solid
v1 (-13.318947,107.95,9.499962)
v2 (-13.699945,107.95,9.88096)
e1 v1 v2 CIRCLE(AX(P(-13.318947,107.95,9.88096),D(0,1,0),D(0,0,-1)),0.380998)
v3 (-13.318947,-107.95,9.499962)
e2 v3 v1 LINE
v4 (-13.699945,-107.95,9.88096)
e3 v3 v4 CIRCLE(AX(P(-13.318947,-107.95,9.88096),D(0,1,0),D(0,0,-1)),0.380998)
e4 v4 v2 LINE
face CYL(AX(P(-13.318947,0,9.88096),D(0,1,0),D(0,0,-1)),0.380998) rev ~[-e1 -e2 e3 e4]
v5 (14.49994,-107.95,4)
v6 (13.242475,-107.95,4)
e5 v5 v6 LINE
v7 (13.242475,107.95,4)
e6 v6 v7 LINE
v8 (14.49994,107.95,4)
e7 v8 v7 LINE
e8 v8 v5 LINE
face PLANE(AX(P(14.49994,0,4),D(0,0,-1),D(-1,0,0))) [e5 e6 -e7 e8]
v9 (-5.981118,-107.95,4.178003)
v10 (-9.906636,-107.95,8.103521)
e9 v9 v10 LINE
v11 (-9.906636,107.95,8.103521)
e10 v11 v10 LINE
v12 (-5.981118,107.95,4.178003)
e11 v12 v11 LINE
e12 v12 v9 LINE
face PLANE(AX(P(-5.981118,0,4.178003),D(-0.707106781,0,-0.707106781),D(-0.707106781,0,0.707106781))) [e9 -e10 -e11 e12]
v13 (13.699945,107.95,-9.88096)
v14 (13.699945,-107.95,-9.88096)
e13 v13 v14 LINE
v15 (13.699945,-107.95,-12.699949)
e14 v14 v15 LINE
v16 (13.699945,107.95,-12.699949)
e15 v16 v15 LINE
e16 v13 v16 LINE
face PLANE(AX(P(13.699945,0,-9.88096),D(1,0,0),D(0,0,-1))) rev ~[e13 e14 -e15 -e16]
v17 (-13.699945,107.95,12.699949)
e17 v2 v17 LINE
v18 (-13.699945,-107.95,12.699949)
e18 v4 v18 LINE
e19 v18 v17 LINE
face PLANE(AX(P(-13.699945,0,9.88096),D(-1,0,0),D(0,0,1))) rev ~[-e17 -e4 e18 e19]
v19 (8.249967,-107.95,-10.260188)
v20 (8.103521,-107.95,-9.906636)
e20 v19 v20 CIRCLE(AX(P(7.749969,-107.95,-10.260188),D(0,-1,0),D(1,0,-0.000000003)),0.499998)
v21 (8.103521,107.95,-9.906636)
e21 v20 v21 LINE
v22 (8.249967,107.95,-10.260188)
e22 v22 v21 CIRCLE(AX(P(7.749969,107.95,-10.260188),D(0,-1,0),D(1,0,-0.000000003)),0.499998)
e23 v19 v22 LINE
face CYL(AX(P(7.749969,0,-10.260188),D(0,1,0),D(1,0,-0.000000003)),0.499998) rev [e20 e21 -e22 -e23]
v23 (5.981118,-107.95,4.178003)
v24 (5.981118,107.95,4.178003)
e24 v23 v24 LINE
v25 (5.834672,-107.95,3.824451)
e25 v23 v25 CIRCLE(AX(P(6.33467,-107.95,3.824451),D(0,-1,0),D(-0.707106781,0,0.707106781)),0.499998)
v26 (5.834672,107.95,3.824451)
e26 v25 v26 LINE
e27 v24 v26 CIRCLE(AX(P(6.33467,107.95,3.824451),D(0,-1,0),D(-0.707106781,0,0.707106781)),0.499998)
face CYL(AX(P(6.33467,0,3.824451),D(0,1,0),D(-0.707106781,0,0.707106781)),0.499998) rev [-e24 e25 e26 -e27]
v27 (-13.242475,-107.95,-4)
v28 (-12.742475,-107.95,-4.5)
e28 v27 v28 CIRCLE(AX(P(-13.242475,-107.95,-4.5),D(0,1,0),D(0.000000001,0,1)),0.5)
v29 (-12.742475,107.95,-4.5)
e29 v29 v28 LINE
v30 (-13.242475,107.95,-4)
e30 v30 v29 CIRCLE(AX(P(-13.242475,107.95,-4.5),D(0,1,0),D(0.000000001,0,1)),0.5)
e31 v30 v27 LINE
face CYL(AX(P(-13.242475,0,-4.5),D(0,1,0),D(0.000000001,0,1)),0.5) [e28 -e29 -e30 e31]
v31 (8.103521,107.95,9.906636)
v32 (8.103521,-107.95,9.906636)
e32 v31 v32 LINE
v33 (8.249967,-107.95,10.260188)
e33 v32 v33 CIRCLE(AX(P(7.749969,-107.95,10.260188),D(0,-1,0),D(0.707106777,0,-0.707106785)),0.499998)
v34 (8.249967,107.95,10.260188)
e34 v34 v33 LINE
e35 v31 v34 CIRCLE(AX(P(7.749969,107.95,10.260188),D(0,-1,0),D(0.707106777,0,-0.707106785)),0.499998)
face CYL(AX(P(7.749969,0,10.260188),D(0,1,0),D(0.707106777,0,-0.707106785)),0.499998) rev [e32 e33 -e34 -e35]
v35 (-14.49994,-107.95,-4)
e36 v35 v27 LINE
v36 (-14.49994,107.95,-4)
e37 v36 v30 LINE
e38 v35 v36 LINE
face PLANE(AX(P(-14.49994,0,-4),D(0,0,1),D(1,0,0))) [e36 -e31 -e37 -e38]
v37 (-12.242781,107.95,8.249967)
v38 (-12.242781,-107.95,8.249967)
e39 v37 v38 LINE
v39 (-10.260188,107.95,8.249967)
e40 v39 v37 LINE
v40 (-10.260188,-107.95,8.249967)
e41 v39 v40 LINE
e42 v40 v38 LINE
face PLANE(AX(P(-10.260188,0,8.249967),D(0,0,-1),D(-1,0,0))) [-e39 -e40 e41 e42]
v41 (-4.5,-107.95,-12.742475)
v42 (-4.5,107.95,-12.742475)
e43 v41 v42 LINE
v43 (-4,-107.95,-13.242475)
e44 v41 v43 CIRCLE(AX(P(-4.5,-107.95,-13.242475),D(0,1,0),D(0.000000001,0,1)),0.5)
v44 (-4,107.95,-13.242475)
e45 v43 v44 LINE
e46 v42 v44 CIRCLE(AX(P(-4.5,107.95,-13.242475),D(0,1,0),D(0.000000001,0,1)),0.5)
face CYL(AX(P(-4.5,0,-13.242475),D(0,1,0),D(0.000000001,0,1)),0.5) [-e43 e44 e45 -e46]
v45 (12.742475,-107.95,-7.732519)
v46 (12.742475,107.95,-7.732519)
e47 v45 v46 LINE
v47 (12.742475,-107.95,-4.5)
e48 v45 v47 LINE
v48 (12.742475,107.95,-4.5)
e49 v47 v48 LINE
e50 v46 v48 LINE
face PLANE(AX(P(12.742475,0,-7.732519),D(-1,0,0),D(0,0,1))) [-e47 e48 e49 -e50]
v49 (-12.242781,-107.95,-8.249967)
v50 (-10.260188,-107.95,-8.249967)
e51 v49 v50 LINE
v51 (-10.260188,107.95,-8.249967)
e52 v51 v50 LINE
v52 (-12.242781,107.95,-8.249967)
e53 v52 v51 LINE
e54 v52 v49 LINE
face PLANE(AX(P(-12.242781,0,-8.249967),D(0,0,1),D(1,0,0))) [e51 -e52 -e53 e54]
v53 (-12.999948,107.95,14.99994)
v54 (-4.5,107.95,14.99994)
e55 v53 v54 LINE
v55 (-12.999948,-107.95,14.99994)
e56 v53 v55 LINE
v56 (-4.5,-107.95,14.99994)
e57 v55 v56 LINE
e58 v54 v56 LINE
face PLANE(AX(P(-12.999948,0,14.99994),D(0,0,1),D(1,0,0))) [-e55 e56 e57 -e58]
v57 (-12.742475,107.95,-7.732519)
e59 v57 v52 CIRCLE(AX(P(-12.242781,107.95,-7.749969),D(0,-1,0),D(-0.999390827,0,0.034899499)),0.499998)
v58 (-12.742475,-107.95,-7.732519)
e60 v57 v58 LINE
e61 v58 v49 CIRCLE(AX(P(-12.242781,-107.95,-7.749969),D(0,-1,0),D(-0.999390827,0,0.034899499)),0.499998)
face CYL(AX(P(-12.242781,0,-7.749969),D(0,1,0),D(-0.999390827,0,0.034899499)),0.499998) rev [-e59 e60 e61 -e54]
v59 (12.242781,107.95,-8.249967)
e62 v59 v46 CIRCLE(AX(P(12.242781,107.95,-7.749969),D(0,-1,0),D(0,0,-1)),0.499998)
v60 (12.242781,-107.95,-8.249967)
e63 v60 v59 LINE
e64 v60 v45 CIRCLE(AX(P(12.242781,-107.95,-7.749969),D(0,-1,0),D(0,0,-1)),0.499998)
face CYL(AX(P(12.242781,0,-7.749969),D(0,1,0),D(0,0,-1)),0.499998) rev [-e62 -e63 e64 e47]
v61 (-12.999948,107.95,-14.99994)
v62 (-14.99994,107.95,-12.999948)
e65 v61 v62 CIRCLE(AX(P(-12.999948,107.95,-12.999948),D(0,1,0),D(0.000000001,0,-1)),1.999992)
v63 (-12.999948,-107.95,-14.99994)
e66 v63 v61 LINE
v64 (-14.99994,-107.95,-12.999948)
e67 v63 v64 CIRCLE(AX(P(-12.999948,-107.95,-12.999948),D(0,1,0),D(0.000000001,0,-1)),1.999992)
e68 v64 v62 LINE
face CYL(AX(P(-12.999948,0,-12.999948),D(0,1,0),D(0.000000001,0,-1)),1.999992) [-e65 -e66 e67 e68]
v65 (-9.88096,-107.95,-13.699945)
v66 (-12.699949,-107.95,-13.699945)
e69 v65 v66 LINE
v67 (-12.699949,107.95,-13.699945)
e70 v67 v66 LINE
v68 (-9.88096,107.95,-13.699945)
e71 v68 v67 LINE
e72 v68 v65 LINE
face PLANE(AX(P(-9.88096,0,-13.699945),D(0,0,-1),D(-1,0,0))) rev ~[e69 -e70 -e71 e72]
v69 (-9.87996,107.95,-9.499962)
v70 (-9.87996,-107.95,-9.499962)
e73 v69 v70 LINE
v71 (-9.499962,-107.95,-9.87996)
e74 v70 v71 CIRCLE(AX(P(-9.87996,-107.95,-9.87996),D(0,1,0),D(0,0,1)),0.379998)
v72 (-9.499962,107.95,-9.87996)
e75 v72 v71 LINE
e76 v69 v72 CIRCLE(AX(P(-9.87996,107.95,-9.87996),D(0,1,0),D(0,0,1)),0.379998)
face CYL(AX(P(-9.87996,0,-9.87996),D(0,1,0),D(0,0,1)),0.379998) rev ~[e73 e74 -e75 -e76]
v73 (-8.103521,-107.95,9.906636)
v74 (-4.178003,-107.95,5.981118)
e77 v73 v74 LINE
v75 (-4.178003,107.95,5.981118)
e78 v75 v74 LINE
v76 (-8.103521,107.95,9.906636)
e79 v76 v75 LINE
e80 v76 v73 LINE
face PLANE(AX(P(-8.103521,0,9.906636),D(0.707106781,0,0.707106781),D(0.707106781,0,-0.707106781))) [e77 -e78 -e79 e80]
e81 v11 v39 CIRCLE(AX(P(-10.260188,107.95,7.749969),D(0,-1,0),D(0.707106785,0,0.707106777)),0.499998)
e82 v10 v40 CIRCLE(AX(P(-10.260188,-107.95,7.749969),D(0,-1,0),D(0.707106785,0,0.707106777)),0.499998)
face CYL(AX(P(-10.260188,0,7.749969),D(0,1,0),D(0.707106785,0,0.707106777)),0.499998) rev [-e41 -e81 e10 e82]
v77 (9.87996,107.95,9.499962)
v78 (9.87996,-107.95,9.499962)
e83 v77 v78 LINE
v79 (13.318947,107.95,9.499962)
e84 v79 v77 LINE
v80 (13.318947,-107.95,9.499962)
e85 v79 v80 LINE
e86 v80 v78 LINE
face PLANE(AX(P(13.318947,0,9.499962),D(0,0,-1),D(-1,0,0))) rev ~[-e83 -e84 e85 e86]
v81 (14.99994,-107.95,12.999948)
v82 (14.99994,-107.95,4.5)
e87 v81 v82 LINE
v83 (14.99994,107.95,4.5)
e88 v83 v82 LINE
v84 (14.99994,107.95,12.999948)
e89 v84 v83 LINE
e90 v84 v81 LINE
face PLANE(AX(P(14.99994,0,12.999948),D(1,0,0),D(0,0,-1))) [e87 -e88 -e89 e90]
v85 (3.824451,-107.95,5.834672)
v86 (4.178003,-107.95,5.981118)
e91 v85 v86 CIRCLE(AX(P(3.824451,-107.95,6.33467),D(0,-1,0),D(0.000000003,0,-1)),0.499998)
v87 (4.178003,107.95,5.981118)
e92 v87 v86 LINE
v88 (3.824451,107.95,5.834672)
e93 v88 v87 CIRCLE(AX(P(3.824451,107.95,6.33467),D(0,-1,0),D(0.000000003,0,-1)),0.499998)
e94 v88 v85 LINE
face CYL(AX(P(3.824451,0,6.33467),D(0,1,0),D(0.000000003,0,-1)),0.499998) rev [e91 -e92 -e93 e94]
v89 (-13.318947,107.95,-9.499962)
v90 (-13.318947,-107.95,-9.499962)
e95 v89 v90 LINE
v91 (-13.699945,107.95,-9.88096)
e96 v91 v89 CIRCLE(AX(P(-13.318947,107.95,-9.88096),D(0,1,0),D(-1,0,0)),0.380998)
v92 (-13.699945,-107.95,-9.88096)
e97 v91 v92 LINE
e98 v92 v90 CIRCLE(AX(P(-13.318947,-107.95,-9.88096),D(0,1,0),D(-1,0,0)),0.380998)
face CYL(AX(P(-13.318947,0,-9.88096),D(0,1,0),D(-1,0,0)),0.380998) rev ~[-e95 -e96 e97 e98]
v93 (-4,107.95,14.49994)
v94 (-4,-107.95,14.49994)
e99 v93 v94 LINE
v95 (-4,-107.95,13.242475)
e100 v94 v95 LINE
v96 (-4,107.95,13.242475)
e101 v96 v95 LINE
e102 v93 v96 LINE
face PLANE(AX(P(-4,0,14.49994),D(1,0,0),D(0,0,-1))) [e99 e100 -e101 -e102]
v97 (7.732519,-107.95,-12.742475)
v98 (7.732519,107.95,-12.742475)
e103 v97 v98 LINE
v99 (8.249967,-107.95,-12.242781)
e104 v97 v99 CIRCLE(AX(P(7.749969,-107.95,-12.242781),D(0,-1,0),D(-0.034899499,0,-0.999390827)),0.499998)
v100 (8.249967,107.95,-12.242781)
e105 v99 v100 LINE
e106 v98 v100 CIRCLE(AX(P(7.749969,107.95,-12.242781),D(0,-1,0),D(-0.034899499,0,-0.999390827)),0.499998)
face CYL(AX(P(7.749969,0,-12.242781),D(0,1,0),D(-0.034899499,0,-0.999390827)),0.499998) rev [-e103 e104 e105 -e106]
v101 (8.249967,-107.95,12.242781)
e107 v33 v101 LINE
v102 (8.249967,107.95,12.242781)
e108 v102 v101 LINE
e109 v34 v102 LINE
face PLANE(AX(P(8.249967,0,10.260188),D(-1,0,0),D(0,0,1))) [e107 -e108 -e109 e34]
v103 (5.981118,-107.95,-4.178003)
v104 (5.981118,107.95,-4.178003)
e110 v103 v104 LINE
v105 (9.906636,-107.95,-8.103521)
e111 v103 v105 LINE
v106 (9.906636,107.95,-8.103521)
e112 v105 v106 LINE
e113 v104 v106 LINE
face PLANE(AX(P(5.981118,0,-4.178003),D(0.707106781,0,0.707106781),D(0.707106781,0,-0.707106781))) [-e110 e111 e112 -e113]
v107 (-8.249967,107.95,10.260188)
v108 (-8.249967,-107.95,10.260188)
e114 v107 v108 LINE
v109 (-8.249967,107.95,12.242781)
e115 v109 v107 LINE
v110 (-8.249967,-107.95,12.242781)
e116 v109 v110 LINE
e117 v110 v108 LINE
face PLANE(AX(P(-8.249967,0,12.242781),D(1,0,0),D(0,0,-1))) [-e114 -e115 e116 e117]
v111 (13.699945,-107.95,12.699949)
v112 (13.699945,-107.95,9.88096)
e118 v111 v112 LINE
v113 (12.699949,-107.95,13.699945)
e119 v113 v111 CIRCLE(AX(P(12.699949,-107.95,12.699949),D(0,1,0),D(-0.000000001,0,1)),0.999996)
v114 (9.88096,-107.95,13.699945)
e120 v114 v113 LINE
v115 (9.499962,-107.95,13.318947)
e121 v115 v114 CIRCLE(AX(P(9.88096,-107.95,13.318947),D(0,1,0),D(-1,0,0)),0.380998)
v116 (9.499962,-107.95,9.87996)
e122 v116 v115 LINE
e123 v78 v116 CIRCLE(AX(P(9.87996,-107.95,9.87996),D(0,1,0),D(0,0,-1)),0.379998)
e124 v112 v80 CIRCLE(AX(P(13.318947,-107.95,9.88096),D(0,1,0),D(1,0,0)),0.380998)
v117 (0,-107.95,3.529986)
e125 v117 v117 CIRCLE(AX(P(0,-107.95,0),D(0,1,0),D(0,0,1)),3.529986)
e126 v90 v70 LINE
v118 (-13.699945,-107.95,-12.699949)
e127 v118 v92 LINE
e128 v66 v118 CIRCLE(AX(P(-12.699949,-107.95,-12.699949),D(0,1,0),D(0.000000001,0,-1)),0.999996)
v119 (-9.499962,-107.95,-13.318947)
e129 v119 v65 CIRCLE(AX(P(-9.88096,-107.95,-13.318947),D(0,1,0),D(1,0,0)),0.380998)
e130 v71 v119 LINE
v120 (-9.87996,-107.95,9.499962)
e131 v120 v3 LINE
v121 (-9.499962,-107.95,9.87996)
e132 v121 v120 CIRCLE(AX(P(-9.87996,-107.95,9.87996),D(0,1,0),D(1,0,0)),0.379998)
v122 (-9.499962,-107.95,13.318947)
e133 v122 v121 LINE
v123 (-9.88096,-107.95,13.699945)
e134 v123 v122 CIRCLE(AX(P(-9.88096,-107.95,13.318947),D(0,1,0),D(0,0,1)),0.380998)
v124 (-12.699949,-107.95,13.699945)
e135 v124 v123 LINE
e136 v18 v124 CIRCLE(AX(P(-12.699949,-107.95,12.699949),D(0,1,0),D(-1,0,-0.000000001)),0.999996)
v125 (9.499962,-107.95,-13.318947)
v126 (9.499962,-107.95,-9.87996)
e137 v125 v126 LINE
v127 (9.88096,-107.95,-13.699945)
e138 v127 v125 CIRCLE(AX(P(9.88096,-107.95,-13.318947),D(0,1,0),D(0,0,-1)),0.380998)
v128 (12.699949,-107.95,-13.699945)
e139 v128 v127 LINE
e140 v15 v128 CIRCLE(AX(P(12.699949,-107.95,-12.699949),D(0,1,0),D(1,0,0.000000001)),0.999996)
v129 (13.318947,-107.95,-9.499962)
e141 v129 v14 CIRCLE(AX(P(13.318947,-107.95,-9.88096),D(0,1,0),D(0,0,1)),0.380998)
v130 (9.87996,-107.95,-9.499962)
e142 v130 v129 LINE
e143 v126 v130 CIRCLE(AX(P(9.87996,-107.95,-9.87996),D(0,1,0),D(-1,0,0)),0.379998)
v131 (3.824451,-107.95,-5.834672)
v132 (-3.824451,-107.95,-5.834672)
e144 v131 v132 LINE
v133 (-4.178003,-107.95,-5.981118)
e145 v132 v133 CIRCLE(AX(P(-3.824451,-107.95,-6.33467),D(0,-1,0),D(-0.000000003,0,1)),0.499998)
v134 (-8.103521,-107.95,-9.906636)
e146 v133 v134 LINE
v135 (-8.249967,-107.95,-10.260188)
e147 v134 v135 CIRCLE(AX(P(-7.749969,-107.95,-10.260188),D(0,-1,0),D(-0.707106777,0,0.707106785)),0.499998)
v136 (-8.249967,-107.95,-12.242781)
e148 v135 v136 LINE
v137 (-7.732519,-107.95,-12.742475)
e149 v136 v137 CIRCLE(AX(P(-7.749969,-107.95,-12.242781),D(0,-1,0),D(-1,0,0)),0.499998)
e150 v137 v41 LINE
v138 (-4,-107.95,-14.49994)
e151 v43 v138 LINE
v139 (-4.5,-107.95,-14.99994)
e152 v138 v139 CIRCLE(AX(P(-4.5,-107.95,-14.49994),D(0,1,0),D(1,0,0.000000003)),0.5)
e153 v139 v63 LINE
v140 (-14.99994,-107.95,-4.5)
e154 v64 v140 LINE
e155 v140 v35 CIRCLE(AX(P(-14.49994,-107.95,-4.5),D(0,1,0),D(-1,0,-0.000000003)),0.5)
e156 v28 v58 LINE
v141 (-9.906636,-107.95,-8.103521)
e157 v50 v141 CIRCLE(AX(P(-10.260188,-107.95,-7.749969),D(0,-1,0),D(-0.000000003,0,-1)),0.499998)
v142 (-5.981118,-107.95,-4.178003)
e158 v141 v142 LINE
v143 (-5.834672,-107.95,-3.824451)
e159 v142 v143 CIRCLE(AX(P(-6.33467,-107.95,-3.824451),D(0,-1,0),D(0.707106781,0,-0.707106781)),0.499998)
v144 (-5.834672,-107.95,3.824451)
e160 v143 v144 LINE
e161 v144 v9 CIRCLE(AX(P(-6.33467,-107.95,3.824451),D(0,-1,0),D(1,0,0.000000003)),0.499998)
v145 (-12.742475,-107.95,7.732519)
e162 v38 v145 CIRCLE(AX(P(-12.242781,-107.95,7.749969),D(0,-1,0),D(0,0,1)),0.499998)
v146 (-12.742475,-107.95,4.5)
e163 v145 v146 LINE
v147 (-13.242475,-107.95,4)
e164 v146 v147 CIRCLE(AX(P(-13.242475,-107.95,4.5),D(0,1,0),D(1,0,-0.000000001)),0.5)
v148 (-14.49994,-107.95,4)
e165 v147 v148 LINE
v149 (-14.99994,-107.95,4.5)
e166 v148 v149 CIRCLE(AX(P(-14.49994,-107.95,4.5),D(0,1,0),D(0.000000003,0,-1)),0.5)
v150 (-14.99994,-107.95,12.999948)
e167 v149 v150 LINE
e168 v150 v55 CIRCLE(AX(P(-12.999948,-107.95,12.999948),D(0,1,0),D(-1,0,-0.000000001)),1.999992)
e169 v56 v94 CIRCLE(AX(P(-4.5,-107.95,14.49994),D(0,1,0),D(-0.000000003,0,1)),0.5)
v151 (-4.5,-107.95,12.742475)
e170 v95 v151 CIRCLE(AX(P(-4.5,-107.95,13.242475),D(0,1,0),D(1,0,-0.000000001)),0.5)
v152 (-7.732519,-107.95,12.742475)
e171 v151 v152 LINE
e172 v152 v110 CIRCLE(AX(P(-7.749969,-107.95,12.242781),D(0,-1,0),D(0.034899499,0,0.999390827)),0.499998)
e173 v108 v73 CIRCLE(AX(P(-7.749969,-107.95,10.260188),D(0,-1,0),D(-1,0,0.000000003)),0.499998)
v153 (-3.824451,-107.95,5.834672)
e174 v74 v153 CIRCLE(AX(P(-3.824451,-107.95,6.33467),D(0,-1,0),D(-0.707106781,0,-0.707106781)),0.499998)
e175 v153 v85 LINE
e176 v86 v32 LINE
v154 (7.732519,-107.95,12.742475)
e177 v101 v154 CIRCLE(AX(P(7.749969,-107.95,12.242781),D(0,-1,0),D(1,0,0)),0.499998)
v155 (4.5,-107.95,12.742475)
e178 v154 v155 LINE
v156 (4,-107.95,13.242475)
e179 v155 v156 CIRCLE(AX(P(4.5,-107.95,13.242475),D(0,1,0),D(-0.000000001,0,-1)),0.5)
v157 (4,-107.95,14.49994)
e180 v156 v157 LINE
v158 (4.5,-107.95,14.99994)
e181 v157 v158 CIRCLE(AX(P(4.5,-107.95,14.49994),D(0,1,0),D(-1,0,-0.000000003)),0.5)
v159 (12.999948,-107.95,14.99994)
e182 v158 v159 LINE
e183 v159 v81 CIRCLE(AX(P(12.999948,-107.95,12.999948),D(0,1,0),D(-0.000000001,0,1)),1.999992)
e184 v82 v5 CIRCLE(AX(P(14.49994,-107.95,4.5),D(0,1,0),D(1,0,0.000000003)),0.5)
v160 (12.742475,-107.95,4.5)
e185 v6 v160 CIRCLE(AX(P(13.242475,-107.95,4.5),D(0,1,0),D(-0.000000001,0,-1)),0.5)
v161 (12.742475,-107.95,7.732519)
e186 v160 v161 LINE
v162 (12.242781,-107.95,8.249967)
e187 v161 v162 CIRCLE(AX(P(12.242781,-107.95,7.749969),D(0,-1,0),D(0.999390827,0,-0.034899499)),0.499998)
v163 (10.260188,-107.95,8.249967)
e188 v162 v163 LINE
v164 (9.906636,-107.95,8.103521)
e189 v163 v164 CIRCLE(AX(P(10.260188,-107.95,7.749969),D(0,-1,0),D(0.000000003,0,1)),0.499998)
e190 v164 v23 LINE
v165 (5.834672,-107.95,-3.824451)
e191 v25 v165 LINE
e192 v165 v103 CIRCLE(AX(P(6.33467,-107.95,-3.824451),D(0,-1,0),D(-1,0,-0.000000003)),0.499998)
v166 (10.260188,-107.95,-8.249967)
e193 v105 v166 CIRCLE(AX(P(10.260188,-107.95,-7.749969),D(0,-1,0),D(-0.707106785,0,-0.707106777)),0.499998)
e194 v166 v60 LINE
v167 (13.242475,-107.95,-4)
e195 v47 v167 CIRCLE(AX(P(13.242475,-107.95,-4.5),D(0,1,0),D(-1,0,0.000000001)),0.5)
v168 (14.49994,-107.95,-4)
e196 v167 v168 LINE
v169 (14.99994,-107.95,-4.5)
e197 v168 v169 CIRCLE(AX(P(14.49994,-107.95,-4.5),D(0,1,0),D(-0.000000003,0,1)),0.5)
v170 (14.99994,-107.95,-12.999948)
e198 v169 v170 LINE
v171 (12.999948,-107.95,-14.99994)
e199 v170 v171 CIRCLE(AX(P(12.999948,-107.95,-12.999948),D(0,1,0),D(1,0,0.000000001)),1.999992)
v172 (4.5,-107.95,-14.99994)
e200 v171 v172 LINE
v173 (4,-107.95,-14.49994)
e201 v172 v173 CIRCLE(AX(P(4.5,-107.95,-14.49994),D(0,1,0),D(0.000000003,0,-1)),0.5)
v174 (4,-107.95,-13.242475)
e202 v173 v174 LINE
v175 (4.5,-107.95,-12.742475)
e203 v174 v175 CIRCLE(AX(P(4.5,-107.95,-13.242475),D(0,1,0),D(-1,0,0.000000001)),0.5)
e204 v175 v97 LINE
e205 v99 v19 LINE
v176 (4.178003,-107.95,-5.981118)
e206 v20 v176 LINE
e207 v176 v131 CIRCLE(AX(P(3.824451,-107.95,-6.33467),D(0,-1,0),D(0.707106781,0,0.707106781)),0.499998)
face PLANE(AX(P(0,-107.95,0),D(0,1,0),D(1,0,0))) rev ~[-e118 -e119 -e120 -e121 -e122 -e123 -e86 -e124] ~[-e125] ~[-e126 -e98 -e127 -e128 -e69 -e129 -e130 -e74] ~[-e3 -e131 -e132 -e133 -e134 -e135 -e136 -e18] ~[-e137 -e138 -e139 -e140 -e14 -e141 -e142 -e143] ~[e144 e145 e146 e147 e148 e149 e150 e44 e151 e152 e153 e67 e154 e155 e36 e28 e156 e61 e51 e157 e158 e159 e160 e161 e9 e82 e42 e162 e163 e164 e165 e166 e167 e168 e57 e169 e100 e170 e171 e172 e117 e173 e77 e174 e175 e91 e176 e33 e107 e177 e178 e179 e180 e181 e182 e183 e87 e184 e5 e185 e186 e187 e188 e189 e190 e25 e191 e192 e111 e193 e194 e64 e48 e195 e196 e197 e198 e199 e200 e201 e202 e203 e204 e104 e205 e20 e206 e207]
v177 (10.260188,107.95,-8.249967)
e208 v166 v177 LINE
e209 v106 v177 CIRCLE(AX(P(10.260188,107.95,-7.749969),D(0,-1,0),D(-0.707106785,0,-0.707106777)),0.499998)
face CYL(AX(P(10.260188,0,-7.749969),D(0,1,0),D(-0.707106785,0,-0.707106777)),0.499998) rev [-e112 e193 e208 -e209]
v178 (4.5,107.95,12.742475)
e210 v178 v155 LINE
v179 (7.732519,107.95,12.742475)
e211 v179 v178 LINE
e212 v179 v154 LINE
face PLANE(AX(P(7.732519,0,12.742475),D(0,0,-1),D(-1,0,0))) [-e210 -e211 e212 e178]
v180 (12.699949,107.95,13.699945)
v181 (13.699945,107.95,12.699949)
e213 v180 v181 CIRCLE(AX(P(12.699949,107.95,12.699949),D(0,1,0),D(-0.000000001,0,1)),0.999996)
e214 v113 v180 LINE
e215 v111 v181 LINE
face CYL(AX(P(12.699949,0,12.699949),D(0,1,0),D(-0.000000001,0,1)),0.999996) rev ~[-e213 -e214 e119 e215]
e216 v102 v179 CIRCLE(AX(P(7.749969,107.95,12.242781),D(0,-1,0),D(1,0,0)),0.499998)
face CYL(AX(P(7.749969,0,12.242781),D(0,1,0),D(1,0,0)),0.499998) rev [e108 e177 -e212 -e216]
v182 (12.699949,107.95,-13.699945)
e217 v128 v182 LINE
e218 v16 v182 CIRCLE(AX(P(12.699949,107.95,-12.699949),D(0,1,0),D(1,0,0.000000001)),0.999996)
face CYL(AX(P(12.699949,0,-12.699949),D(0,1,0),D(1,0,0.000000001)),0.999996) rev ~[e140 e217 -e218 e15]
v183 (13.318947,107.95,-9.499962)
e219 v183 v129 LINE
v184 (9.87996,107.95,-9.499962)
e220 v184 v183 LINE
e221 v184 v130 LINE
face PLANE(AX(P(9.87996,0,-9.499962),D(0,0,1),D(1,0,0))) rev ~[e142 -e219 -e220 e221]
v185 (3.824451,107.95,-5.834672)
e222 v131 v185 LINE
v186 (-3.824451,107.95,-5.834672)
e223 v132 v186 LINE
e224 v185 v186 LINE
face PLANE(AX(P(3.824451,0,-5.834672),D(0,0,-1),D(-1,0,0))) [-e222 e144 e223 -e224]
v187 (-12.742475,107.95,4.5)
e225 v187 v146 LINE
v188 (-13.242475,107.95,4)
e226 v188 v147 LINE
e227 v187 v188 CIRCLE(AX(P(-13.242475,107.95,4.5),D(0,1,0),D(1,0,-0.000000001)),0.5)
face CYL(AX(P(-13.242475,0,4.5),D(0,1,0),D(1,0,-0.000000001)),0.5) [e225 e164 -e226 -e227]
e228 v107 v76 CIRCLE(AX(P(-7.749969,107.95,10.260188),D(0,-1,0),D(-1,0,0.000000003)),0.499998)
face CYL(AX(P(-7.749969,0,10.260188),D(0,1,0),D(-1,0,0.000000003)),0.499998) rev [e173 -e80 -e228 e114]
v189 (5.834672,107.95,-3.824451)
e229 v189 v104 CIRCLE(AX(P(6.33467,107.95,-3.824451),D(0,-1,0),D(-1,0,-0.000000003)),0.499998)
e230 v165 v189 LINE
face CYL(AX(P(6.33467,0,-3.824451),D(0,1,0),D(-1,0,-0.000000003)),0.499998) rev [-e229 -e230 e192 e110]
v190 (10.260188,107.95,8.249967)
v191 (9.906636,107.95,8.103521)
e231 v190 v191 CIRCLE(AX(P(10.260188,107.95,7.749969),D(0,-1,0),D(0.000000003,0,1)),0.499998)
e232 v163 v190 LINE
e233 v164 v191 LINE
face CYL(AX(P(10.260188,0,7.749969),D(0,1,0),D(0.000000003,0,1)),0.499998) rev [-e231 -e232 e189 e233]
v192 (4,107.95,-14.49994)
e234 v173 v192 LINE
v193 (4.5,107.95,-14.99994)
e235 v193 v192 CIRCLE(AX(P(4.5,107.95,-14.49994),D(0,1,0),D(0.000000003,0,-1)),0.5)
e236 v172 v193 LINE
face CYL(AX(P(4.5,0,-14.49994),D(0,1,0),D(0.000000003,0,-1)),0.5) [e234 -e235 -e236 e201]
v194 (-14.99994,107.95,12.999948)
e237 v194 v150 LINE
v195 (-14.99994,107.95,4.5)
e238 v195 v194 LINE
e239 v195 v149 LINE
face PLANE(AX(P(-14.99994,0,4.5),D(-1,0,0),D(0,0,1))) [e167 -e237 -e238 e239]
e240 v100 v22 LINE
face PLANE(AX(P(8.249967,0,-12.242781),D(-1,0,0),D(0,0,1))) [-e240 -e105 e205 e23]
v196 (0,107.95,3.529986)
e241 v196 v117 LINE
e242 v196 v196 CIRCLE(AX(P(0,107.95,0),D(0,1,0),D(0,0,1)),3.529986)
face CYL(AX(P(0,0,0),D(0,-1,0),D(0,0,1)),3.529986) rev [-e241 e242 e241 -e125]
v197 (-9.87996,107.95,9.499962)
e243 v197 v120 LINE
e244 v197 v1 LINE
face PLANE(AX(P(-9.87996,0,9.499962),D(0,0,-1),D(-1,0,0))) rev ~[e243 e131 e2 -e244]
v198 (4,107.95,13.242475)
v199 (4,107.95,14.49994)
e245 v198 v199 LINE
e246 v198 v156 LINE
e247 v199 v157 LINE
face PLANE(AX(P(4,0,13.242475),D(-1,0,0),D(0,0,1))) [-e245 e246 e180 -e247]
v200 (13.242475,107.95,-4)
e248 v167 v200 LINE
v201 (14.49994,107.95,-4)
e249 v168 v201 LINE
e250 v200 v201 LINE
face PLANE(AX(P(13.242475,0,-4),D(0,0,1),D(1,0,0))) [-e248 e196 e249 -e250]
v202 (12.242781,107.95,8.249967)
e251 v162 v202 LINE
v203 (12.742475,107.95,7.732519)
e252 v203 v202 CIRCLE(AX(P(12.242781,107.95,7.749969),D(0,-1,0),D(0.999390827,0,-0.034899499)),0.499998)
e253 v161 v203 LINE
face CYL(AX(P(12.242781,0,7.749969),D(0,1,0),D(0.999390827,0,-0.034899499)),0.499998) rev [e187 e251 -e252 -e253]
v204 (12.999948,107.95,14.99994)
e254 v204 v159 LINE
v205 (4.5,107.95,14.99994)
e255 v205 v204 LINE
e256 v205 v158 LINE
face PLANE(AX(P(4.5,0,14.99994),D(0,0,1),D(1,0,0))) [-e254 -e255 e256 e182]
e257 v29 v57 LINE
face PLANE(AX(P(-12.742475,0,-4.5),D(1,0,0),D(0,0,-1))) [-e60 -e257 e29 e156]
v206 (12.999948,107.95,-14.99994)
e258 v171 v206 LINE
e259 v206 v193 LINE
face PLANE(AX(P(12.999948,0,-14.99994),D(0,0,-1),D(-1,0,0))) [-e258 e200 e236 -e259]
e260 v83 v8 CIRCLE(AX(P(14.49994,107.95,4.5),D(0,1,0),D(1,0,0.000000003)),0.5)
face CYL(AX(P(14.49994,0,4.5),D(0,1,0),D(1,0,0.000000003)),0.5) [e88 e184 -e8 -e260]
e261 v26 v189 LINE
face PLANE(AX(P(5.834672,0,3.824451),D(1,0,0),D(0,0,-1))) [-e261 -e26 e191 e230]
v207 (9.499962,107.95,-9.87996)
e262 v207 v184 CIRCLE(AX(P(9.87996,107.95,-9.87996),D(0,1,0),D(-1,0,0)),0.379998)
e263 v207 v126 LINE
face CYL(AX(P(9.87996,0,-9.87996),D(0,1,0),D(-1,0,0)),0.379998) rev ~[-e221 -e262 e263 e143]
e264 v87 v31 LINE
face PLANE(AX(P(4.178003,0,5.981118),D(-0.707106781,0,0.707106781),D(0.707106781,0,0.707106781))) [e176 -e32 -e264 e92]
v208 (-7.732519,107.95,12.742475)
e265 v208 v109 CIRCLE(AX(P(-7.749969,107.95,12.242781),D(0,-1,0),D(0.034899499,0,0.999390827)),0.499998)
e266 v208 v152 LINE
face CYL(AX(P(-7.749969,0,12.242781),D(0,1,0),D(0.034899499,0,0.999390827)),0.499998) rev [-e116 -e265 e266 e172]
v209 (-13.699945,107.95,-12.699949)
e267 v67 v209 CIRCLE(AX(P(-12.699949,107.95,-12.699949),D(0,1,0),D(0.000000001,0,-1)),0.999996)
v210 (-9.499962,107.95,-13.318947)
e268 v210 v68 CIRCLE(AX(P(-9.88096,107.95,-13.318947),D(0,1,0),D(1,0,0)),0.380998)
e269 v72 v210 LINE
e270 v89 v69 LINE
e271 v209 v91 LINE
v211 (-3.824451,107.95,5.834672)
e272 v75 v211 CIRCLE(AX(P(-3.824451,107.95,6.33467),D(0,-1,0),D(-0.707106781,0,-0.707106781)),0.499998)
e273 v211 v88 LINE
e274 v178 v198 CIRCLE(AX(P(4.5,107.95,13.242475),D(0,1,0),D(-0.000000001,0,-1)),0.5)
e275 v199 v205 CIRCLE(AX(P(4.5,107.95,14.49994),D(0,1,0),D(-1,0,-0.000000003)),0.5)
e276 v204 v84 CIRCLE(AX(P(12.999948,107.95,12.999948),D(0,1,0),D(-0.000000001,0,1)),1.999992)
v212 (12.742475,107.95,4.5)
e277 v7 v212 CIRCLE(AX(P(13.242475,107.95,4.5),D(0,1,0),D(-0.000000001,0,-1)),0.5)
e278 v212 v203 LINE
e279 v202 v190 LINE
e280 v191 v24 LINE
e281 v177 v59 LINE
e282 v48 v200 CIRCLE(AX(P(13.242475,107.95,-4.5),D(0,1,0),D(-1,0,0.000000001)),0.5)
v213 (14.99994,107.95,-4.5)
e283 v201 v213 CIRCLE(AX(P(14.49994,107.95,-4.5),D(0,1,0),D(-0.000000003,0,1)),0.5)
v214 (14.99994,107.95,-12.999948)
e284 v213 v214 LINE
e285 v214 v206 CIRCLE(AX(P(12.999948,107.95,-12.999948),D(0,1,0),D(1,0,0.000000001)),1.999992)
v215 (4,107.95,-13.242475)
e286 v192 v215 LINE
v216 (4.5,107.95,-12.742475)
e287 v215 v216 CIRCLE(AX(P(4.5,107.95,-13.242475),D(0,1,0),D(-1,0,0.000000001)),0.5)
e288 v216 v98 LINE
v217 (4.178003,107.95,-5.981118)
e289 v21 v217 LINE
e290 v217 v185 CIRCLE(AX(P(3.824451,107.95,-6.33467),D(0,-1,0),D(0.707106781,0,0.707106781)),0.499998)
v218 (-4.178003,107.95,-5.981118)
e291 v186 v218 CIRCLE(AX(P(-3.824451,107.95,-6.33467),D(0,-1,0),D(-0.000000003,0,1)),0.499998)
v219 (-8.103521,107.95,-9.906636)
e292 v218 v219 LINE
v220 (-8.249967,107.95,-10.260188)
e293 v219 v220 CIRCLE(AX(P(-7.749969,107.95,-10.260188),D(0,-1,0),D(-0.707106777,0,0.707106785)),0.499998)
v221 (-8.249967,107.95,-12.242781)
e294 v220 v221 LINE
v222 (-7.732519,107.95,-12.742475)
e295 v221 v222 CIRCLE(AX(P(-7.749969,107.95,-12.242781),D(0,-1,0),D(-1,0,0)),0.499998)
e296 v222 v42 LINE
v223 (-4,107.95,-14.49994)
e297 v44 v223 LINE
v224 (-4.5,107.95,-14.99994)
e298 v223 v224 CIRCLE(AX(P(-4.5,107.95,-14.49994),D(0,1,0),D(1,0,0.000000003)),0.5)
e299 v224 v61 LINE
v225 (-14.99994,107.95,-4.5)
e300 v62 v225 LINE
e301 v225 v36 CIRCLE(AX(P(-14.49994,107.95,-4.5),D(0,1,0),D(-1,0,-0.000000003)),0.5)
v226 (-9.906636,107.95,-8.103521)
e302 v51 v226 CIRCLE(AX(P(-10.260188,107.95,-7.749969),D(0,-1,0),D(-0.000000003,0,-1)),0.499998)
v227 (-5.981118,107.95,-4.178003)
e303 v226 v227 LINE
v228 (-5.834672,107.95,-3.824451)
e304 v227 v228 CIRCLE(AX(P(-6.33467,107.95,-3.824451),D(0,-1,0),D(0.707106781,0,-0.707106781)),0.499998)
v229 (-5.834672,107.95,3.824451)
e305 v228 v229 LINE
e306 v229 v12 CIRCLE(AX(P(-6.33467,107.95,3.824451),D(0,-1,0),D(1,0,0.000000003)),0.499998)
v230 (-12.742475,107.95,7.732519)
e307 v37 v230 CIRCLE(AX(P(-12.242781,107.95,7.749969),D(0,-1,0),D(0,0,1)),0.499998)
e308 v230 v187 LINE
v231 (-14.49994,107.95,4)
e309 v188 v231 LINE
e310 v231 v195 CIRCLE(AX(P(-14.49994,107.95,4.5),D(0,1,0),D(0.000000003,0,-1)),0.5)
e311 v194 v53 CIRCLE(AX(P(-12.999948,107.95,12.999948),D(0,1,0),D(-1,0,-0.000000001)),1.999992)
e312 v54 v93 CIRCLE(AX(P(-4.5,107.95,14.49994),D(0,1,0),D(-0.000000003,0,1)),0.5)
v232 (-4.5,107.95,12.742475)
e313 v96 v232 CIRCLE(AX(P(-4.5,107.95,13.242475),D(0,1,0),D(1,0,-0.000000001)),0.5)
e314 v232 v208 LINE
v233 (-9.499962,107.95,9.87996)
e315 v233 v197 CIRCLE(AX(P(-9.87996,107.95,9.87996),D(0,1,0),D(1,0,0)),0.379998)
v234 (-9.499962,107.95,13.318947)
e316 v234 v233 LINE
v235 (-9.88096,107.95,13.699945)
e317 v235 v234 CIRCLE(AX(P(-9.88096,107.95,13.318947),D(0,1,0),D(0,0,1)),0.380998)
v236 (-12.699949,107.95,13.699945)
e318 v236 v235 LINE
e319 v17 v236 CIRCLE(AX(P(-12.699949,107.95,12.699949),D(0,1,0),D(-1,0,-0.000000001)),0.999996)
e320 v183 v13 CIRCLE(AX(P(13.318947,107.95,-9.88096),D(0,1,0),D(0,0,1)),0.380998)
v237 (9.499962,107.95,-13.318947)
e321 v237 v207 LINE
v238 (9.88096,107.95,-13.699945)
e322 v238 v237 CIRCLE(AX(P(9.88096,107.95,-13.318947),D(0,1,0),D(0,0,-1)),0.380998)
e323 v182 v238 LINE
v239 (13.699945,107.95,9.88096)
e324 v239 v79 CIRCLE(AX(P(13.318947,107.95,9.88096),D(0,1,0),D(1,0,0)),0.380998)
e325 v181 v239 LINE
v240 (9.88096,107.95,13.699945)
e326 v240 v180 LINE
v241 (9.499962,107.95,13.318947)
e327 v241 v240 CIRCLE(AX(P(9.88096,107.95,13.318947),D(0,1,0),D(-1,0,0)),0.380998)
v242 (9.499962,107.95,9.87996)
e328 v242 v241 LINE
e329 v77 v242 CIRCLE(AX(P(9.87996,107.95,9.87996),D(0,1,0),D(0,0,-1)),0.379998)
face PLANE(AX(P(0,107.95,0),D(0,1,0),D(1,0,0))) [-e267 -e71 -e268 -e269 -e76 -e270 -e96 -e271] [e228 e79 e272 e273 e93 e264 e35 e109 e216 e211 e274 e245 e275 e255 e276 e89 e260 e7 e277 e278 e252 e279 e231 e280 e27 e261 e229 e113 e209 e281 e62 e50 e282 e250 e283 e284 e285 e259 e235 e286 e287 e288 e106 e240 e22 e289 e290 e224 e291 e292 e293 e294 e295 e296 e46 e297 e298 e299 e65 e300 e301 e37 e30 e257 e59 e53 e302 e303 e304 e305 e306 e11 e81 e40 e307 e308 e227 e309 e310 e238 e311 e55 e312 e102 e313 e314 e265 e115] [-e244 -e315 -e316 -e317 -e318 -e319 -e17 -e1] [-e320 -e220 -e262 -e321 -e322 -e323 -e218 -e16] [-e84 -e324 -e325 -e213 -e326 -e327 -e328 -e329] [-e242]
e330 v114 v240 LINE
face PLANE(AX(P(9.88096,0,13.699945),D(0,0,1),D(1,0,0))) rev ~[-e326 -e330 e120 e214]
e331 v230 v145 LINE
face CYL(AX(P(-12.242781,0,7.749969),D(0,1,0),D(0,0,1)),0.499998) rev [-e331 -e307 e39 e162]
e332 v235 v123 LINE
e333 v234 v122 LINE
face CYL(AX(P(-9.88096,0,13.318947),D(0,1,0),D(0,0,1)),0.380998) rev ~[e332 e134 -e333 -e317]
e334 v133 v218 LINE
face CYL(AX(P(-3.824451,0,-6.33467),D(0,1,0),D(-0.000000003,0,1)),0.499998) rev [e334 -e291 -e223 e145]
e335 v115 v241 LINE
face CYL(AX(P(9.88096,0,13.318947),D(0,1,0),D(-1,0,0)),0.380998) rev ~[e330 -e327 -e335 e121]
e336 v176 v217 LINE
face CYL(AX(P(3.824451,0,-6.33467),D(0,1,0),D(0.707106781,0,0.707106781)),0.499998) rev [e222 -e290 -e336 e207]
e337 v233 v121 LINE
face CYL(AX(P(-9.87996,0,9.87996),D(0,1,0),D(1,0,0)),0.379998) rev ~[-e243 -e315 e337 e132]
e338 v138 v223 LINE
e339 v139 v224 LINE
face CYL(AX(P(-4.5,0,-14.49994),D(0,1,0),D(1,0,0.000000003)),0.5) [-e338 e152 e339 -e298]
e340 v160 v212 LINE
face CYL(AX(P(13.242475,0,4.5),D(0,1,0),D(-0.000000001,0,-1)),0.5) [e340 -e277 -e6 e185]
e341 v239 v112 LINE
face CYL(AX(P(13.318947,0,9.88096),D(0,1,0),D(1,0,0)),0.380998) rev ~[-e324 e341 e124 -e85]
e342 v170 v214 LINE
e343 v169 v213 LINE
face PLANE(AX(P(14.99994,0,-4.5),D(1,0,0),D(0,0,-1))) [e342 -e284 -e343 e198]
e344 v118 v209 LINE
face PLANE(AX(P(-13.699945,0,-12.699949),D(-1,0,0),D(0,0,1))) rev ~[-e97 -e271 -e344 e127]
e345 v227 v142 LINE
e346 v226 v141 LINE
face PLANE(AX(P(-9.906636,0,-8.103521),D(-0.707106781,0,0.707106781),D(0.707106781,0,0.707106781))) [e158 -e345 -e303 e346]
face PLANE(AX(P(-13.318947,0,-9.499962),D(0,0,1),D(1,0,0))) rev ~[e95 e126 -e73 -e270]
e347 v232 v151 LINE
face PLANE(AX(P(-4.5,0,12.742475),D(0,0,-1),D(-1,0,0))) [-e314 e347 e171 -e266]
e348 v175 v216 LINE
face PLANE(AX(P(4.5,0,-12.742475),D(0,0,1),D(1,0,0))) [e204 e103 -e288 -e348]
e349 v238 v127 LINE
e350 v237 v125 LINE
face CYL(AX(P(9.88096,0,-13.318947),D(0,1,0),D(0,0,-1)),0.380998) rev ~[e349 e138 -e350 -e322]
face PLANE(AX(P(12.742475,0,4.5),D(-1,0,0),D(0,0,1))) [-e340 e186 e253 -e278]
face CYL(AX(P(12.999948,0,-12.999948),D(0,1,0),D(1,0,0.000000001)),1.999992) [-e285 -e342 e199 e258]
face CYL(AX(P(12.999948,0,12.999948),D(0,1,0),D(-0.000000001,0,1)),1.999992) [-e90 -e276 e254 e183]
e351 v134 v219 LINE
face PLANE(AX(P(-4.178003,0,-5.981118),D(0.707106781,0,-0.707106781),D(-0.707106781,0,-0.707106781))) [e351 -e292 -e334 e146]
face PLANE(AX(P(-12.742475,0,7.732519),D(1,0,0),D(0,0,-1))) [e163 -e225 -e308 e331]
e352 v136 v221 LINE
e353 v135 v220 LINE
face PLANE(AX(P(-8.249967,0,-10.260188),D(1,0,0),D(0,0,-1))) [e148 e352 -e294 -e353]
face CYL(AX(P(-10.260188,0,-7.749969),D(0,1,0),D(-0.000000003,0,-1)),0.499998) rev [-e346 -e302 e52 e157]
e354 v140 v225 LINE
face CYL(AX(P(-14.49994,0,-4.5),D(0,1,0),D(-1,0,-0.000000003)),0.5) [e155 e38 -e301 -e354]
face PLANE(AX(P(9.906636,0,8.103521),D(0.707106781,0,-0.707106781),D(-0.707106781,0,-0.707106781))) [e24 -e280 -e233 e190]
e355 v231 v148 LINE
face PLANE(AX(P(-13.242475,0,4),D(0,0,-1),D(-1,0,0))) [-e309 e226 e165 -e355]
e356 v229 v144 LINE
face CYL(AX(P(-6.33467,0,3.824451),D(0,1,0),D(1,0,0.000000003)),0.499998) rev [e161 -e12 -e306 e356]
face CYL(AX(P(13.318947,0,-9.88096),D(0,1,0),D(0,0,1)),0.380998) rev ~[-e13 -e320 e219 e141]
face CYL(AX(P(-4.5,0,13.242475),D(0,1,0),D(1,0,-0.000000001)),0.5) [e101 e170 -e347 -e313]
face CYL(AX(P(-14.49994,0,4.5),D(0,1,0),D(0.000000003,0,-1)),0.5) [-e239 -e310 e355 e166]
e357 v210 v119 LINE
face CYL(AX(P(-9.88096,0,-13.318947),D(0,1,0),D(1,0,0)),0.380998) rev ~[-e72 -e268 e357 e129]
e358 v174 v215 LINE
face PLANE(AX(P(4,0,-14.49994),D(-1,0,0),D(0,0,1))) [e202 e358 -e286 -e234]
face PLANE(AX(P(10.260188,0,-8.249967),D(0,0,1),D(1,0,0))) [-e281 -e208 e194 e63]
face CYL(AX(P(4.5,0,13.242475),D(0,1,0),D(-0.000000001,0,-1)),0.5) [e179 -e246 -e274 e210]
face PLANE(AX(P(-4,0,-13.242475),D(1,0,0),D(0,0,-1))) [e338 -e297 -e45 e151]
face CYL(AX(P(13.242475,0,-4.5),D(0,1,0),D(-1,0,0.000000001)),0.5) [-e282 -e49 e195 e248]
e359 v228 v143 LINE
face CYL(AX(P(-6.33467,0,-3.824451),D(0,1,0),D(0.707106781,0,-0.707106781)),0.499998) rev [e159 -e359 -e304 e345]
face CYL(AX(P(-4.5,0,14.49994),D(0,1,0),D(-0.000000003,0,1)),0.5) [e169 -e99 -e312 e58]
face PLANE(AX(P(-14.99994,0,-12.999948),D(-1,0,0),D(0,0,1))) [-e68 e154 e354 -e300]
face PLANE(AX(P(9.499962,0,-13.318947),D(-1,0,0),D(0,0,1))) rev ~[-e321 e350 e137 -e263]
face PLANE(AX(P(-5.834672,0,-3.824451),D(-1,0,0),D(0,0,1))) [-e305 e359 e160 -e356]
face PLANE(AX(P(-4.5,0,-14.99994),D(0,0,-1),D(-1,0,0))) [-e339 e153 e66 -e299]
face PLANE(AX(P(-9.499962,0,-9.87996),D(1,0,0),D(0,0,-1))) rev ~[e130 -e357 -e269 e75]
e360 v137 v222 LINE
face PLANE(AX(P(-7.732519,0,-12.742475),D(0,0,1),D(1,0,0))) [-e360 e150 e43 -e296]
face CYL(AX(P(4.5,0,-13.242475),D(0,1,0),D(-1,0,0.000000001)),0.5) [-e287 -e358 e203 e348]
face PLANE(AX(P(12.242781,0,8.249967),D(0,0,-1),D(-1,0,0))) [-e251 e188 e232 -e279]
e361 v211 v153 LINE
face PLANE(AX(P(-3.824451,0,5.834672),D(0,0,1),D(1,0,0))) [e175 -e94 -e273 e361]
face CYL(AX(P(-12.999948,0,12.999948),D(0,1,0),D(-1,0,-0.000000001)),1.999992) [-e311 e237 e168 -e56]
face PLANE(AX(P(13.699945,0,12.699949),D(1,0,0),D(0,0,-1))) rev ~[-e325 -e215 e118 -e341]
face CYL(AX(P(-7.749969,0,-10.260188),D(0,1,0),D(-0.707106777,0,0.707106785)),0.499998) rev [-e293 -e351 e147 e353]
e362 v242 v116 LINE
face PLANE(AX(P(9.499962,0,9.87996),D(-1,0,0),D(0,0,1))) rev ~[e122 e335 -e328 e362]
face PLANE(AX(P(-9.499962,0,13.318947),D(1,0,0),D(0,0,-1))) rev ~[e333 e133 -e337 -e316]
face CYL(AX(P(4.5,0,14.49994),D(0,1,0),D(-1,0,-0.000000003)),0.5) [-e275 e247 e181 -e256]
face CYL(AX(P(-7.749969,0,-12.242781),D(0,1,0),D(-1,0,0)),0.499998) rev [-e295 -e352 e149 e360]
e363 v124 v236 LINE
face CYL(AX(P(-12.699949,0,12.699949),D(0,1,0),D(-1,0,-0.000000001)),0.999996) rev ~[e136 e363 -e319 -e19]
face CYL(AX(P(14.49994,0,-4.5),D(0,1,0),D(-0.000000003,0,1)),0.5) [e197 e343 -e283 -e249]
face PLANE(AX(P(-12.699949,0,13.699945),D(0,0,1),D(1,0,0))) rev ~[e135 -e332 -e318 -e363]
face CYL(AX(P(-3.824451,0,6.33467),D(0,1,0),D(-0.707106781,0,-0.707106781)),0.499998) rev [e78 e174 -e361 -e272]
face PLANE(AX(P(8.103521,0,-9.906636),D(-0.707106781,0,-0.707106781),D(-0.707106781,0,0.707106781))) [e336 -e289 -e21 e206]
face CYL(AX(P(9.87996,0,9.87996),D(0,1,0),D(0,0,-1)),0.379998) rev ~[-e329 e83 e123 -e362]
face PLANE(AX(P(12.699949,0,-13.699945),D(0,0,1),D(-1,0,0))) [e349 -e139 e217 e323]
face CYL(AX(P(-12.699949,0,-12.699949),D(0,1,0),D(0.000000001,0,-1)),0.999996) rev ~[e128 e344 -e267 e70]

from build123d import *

# Parameters (mm, degrees)
SKETCH1_R           = 3.52998588
BOSS_EXTRUDE1_DEPTH = 107.95


with BuildPart() as part:
    # Sketch1 → Boss-Extrude1 (new, symmetric)
    with BuildSketch(Plane(origin=(0, 0, 0), x_dir=(1, 0, 0), z_dir=(0, 1, 0))):
        with BuildLine():
            Line((14.49994, -4), (13.24247465, -4))
            ThreePointArc((13.24247465, -4), (12.88892126, -4.146446609), (12.74247465, -4.5))
            Line((12.74247465, -4.5), (12.74247465, -7.732519321))
            ThreePointArc((12.74247465, -7.732519321), (12.602449697, -8.097296796), (12.242781236, -8.249967))
            Line((12.242781236, -8.249967), (10.260188032, -8.249967))
            ThreePointArc((10.260188032, -8.249967), (10.068847082, -8.211906919), (9.906636056, -8.103520976))
            Line((9.906636056, -8.103520976), (5.981117769, -4.178002689))
            ThreePointArc((5.981117769, -4.178002689), (5.872731827, -4.015791664), (5.834671745, -3.824450713))
            Line((5.834671745, -3.824450713), (5.834671745, -1.01249595))
            Line((5.834671745, -1.01249595), (5.834671745, 0.88749645))
            Line((5.834671745, 0.88749645), (5.834671745, 3.824450713))
            ThreePointArc((5.834671745, 3.824450713), (5.872731827, 4.015791664), (5.981117769, 4.178002689))
            Line((5.981117769, 4.178002689), (9.906636056, 8.103520976))
            ThreePointArc((9.906636056, 8.103520976), (10.068847082, 8.211906919), (10.260188032, 8.249967))
            Line((10.260188032, 8.249967), (12.242781236, 8.249967))
            ThreePointArc((12.242781236, 8.249967), (12.602449697, 8.097296796), (12.74247465, 7.732519321))
            Line((12.74247465, 7.732519321), (12.74247465, 4.5))
            ThreePointArc((12.74247465, 4.5), (12.88892126, 4.146446609), (13.24247465, 4))
            Line((13.24247465, 4), (14.49994, 4))
            ThreePointArc((14.49994, 4), (14.853493391, 4.146446609), (14.99994, 4.5))
            Line((14.99994, 4.5), (14.99994, 12.999948))
            ThreePointArc((14.99994, 12.999948), (14.414155906, 14.414155906), (12.999948, 14.99994))
            Line((12.999948, 14.99994), (4.5, 14.99994))
            ThreePointArc((4.5, 14.99994), (4.146446609, 14.853493391), (4, 14.49994))
            Line((4, 14.49994), (4, 13.24247465))
            ThreePointArc((4, 13.24247465), (4.146446609, 12.88892126), (4.5, 12.74247465))
            Line((4.5, 12.74247465), (7.732519321, 12.74247465))
            ThreePointArc((7.732519321, 12.74247465), (8.097296796, 12.602449697), (8.249967, 12.242781236))
            Line((8.249967, 12.242781236), (8.249967, 10.260188032))
            ThreePointArc((8.249967, 10.260188032), (8.211906919, 10.068847082), (8.103520976, 9.906636056))
            Line((8.103520976, 9.906636056), (4.178002689, 5.981117769))
            ThreePointArc((4.178002689, 5.981117769), (4.015791664, 5.872731827), (3.824450713, 5.834671745))
            Line((3.824450713, 5.834671745), (0.9499962, 5.834671745))
            Line((0.9499962, 5.834671745), (-0.9499962, 5.834671745))
            Line((-0.9499962, 5.834671745), (-3.824450713, 5.834671745))
            ThreePointArc((-3.824450713, 5.834671745), (-4.015791664, 5.872731827), (-4.178002689, 5.981117769))
            Line((-4.178002689, 5.981117769), (-8.103520976, 9.906636056))
            ThreePointArc((-8.103520976, 9.906636056), (-8.211906919, 10.068847082), (-8.249967, 10.260188032))
            Line((-8.249967, 10.260188032), (-8.249967, 12.242781236))
            ThreePointArc((-8.249967, 12.242781236), (-8.097296796, 12.602449697), (-7.732519321, 12.74247465))
            Line((-7.732519321, 12.74247465), (-4.5, 12.74247465))
            ThreePointArc((-4.5, 12.74247465), (-4.146446609, 12.88892126), (-4, 13.24247465))
            Line((-4, 13.24247465), (-4, 14.49994))
            ThreePointArc((-4, 14.49994), (-4.146446609, 14.853493391), (-4.5, 14.99994))
            Line((-4.5, 14.99994), (-12.999948, 14.99994))
            ThreePointArc((-12.999948, 14.99994), (-14.414155906, 14.414155906), (-14.99994, 12.999948))
            Line((-14.99994, 12.999948), (-14.99994, 4.5))
            ThreePointArc((-14.99994, 4.5), (-14.853493391, 4.146446609), (-14.49994, 4))
            Line((-14.49994, 4), (-13.24247465, 4))
            ThreePointArc((-13.24247465, 4), (-12.88892126, 4.146446609), (-12.74247465, 4.5))
            Line((-12.74247465, 4.5), (-12.74247465, 7.732519321))
            ThreePointArc((-12.74247465, 7.732519321), (-12.602449697, 8.097296796), (-12.242781236, 8.249967))
            Line((-12.242781236, 8.249967), (-10.260188032, 8.249967))
            ThreePointArc((-10.260188032, 8.249967), (-10.068847082, 8.211906919), (-9.906636056, 8.103520976))
            Line((-9.906636056, 8.103520976), (-5.981117769, 4.178002689))
            ThreePointArc((-5.981117769, 4.178002689), (-5.872731827, 4.015791664), (-5.834671745, 3.824450713))
            Line((-5.834671745, 3.824450713), (-5.834671745, 0.88749645))
            Line((-5.834671745, 0.88749645), (-5.834671745, -1.01249595))
            Line((-5.834671745, -1.01249595), (-5.834671745, -3.824450713))
            ThreePointArc((-5.834671745, -3.824450713), (-5.872731827, -4.015791664), (-5.981117769, -4.178002689))
            Line((-5.981117769, -4.178002689), (-9.906636056, -8.103520976))
            ThreePointArc((-9.906636056, -8.103520976), (-10.068847082, -8.211906919), (-10.260188032, -8.249967))
            Line((-10.260188032, -8.249967), (-12.242781236, -8.249967))
            ThreePointArc((-12.242781236, -8.249967), (-12.602449697, -8.097296796), (-12.74247465, -7.732519321))
            Line((-12.74247465, -7.732519321), (-12.74247465, -4.5))
            ThreePointArc((-12.74247465, -4.5), (-12.88892126, -4.146446609), (-13.24247465, -4))
            Line((-13.24247465, -4), (-14.49994, -4))
            ThreePointArc((-14.49994, -4), (-14.853493391, -4.146446609), (-14.99994, -4.5))
            Line((-14.99994, -4.5), (-14.99994, -12.999948))
            ThreePointArc((-14.99994, -12.999948), (-14.414155906, -14.414155906), (-12.999948, -14.99994))
            Line((-12.999948, -14.99994), (-4.5, -14.99994))
            ThreePointArc((-4.5, -14.99994), (-4.146446609, -14.853493391), (-4, -14.49994))
            Line((-4, -14.49994), (-4, -13.24247465))
            ThreePointArc((-4, -13.24247465), (-4.146446609, -12.88892126), (-4.5, -12.74247465))
            Line((-4.5, -12.74247465), (-7.732519321, -12.74247465))
            ThreePointArc((-7.732519321, -12.74247465), (-8.097296796, -12.602449697), (-8.249967, -12.242781236))
            Line((-8.249967, -12.242781236), (-8.249967, -10.260188032))
            ThreePointArc((-8.249967, -10.260188032), (-8.211906919, -10.068847082), (-8.103520976, -9.906636056))
            Line((-8.103520976, -9.906636056), (-4.178002689, -5.981117769))
            ThreePointArc((-4.178002689, -5.981117769), (-4.015791664, -5.872731827), (-3.824450713, -5.834671745))
            Line((-3.824450713, -5.834671745), (-0.9499962, -5.834671745))
            Line((-0.9499962, -5.834671745), (0.9499962, -5.834671745))
            Line((0.9499962, -5.834671745), (3.824450713, -5.834671745))
            ThreePointArc((3.824450713, -5.834671745), (4.015791664, -5.872731827), (4.178002689, -5.981117769))
            Line((4.178002689, -5.981117769), (8.103520976, -9.906636056))
            ThreePointArc((8.103520976, -9.906636056), (8.211906919, -10.068847082), (8.249967, -10.260188032))
            Line((8.249967, -10.260188032), (8.249967, -12.242781236))
            ThreePointArc((8.249967, -12.242781236), (8.097296796, -12.602449697), (7.732519321, -12.74247465))
            Line((7.732519321, -12.74247465), (4.5, -12.74247465))
            ThreePointArc((4.5, -12.74247465), (4.146446609, -12.88892126), (4, -13.24247465))
            Line((4, -13.24247465), (4, -14.49994))
            ThreePointArc((4, -14.49994), (4.146446609, -14.853493391), (4.5, -14.99994))
            Line((4.5, -14.99994), (12.999948, -14.99994))
            ThreePointArc((12.999948, -14.99994), (14.414155906, -14.414155906), (14.99994, -12.999948))
            Line((14.99994, -12.999948), (14.99994, -4.5))
            ThreePointArc((14.99994, -4.5), (14.853493391, -4.146446609), (14.49994, -4))
        make_face()
        with Locations(Location((0, 0, 0), (0, 0, 270))):
            Circle(SKETCH1_R, mode=Mode.SUBTRACT)
        with BuildLine():
            Line((-12.6999492, -13.6999452), (-9.880960476, -13.6999452))
            ThreePointArc((-9.880960476, -13.6999452), (-9.61155387, -13.58835333), (-9.499962, -13.318946724))
            Line((-9.499962, -13.318946724), (-9.499962, -9.87996048))
            ThreePointArc((-9.499962, -9.87996048), (-9.611260978, -9.611260978), (-9.87996048, -9.499962))
            Line((-9.87996048, -9.499962), (-13.318946724, -9.499962))
            ThreePointArc((-13.318946724, -9.499962), (-13.58835333, -9.61155387), (-13.6999452, -9.880960476))
            Line((-13.6999452, -9.880960476), (-13.6999452, -12.6999492))
            ThreePointArc((-13.6999452, -12.6999492), (-13.407053153, -13.407053153), (-12.6999492, -13.6999452))
        make_face(mode=Mode.SUBTRACT)
        with BuildLine():
            Line((13.6999452, -12.6999492), (13.6999452, -9.880960476))
            ThreePointArc((13.6999452, -9.880960476), (13.58835333, -9.61155387), (13.318946724, -9.499962))
            Line((13.318946724, -9.499962), (9.87996048, -9.499962))
            ThreePointArc((9.87996048, -9.499962), (9.611260978, -9.611260978), (9.499962, -9.87996048))
            Line((9.499962, -9.87996048), (9.499962, -13.318946724))
            ThreePointArc((9.499962, -13.318946724), (9.61155387, -13.58835333), (9.880960476, -13.6999452))
            Line((9.880960476, -13.6999452), (12.6999492, -13.6999452))
            ThreePointArc((12.6999492, -13.6999452), (13.407053153, -13.407053153), (13.6999452, -12.6999492))
        make_face(mode=Mode.SUBTRACT)
        with BuildLine():
            Line((9.87996048, 9.499962), (13.318946724, 9.499962))
            ThreePointArc((13.318946724, 9.499962), (13.58835333, 9.61155387), (13.6999452, 9.880960476))
            Line((13.6999452, 9.880960476), (13.6999452, 12.6999492))
            ThreePointArc((13.6999452, 12.6999492), (13.407053153, 13.407053153), (12.6999492, 13.6999452))
            Line((12.6999492, 13.6999452), (9.880960476, 13.6999452))
            ThreePointArc((9.880960476, 13.6999452), (9.61155387, 13.58835333), (9.499962, 13.318946724))
            Line((9.499962, 13.318946724), (9.499962, 9.87996048))
            ThreePointArc((9.499962, 9.87996048), (9.611260978, 9.611260978), (9.87996048, 9.499962))
        make_face(mode=Mode.SUBTRACT)
        with BuildLine():
            Line((-13.6999452, 12.6999492), (-13.6999452, 9.880960476))
            ThreePointArc((-13.6999452, 9.880960476), (-13.58835333, 9.61155387), (-13.318946724, 9.499962))
            Line((-13.318946724, 9.499962), (-9.87996048, 9.499962))
            ThreePointArc((-9.87996048, 9.499962), (-9.611260978, 9.611260978), (-9.499962, 9.87996048))
            Line((-9.499962, 9.87996048), (-9.499962, 13.318946724))
            ThreePointArc((-9.499962, 13.318946724), (-9.61155387, 13.58835333), (-9.880960476, 13.6999452))
            Line((-9.880960476, 13.6999452), (-12.6999492, 13.6999452))
            ThreePointArc((-12.6999492, 13.6999452), (-13.407053153, 13.407053153), (-13.6999452, 12.6999492))
        make_face(mode=Mode.SUBTRACT)
    extrude(amount=BOSS_EXTRUDE1_DEPTH, both=True)


solid = part.part
